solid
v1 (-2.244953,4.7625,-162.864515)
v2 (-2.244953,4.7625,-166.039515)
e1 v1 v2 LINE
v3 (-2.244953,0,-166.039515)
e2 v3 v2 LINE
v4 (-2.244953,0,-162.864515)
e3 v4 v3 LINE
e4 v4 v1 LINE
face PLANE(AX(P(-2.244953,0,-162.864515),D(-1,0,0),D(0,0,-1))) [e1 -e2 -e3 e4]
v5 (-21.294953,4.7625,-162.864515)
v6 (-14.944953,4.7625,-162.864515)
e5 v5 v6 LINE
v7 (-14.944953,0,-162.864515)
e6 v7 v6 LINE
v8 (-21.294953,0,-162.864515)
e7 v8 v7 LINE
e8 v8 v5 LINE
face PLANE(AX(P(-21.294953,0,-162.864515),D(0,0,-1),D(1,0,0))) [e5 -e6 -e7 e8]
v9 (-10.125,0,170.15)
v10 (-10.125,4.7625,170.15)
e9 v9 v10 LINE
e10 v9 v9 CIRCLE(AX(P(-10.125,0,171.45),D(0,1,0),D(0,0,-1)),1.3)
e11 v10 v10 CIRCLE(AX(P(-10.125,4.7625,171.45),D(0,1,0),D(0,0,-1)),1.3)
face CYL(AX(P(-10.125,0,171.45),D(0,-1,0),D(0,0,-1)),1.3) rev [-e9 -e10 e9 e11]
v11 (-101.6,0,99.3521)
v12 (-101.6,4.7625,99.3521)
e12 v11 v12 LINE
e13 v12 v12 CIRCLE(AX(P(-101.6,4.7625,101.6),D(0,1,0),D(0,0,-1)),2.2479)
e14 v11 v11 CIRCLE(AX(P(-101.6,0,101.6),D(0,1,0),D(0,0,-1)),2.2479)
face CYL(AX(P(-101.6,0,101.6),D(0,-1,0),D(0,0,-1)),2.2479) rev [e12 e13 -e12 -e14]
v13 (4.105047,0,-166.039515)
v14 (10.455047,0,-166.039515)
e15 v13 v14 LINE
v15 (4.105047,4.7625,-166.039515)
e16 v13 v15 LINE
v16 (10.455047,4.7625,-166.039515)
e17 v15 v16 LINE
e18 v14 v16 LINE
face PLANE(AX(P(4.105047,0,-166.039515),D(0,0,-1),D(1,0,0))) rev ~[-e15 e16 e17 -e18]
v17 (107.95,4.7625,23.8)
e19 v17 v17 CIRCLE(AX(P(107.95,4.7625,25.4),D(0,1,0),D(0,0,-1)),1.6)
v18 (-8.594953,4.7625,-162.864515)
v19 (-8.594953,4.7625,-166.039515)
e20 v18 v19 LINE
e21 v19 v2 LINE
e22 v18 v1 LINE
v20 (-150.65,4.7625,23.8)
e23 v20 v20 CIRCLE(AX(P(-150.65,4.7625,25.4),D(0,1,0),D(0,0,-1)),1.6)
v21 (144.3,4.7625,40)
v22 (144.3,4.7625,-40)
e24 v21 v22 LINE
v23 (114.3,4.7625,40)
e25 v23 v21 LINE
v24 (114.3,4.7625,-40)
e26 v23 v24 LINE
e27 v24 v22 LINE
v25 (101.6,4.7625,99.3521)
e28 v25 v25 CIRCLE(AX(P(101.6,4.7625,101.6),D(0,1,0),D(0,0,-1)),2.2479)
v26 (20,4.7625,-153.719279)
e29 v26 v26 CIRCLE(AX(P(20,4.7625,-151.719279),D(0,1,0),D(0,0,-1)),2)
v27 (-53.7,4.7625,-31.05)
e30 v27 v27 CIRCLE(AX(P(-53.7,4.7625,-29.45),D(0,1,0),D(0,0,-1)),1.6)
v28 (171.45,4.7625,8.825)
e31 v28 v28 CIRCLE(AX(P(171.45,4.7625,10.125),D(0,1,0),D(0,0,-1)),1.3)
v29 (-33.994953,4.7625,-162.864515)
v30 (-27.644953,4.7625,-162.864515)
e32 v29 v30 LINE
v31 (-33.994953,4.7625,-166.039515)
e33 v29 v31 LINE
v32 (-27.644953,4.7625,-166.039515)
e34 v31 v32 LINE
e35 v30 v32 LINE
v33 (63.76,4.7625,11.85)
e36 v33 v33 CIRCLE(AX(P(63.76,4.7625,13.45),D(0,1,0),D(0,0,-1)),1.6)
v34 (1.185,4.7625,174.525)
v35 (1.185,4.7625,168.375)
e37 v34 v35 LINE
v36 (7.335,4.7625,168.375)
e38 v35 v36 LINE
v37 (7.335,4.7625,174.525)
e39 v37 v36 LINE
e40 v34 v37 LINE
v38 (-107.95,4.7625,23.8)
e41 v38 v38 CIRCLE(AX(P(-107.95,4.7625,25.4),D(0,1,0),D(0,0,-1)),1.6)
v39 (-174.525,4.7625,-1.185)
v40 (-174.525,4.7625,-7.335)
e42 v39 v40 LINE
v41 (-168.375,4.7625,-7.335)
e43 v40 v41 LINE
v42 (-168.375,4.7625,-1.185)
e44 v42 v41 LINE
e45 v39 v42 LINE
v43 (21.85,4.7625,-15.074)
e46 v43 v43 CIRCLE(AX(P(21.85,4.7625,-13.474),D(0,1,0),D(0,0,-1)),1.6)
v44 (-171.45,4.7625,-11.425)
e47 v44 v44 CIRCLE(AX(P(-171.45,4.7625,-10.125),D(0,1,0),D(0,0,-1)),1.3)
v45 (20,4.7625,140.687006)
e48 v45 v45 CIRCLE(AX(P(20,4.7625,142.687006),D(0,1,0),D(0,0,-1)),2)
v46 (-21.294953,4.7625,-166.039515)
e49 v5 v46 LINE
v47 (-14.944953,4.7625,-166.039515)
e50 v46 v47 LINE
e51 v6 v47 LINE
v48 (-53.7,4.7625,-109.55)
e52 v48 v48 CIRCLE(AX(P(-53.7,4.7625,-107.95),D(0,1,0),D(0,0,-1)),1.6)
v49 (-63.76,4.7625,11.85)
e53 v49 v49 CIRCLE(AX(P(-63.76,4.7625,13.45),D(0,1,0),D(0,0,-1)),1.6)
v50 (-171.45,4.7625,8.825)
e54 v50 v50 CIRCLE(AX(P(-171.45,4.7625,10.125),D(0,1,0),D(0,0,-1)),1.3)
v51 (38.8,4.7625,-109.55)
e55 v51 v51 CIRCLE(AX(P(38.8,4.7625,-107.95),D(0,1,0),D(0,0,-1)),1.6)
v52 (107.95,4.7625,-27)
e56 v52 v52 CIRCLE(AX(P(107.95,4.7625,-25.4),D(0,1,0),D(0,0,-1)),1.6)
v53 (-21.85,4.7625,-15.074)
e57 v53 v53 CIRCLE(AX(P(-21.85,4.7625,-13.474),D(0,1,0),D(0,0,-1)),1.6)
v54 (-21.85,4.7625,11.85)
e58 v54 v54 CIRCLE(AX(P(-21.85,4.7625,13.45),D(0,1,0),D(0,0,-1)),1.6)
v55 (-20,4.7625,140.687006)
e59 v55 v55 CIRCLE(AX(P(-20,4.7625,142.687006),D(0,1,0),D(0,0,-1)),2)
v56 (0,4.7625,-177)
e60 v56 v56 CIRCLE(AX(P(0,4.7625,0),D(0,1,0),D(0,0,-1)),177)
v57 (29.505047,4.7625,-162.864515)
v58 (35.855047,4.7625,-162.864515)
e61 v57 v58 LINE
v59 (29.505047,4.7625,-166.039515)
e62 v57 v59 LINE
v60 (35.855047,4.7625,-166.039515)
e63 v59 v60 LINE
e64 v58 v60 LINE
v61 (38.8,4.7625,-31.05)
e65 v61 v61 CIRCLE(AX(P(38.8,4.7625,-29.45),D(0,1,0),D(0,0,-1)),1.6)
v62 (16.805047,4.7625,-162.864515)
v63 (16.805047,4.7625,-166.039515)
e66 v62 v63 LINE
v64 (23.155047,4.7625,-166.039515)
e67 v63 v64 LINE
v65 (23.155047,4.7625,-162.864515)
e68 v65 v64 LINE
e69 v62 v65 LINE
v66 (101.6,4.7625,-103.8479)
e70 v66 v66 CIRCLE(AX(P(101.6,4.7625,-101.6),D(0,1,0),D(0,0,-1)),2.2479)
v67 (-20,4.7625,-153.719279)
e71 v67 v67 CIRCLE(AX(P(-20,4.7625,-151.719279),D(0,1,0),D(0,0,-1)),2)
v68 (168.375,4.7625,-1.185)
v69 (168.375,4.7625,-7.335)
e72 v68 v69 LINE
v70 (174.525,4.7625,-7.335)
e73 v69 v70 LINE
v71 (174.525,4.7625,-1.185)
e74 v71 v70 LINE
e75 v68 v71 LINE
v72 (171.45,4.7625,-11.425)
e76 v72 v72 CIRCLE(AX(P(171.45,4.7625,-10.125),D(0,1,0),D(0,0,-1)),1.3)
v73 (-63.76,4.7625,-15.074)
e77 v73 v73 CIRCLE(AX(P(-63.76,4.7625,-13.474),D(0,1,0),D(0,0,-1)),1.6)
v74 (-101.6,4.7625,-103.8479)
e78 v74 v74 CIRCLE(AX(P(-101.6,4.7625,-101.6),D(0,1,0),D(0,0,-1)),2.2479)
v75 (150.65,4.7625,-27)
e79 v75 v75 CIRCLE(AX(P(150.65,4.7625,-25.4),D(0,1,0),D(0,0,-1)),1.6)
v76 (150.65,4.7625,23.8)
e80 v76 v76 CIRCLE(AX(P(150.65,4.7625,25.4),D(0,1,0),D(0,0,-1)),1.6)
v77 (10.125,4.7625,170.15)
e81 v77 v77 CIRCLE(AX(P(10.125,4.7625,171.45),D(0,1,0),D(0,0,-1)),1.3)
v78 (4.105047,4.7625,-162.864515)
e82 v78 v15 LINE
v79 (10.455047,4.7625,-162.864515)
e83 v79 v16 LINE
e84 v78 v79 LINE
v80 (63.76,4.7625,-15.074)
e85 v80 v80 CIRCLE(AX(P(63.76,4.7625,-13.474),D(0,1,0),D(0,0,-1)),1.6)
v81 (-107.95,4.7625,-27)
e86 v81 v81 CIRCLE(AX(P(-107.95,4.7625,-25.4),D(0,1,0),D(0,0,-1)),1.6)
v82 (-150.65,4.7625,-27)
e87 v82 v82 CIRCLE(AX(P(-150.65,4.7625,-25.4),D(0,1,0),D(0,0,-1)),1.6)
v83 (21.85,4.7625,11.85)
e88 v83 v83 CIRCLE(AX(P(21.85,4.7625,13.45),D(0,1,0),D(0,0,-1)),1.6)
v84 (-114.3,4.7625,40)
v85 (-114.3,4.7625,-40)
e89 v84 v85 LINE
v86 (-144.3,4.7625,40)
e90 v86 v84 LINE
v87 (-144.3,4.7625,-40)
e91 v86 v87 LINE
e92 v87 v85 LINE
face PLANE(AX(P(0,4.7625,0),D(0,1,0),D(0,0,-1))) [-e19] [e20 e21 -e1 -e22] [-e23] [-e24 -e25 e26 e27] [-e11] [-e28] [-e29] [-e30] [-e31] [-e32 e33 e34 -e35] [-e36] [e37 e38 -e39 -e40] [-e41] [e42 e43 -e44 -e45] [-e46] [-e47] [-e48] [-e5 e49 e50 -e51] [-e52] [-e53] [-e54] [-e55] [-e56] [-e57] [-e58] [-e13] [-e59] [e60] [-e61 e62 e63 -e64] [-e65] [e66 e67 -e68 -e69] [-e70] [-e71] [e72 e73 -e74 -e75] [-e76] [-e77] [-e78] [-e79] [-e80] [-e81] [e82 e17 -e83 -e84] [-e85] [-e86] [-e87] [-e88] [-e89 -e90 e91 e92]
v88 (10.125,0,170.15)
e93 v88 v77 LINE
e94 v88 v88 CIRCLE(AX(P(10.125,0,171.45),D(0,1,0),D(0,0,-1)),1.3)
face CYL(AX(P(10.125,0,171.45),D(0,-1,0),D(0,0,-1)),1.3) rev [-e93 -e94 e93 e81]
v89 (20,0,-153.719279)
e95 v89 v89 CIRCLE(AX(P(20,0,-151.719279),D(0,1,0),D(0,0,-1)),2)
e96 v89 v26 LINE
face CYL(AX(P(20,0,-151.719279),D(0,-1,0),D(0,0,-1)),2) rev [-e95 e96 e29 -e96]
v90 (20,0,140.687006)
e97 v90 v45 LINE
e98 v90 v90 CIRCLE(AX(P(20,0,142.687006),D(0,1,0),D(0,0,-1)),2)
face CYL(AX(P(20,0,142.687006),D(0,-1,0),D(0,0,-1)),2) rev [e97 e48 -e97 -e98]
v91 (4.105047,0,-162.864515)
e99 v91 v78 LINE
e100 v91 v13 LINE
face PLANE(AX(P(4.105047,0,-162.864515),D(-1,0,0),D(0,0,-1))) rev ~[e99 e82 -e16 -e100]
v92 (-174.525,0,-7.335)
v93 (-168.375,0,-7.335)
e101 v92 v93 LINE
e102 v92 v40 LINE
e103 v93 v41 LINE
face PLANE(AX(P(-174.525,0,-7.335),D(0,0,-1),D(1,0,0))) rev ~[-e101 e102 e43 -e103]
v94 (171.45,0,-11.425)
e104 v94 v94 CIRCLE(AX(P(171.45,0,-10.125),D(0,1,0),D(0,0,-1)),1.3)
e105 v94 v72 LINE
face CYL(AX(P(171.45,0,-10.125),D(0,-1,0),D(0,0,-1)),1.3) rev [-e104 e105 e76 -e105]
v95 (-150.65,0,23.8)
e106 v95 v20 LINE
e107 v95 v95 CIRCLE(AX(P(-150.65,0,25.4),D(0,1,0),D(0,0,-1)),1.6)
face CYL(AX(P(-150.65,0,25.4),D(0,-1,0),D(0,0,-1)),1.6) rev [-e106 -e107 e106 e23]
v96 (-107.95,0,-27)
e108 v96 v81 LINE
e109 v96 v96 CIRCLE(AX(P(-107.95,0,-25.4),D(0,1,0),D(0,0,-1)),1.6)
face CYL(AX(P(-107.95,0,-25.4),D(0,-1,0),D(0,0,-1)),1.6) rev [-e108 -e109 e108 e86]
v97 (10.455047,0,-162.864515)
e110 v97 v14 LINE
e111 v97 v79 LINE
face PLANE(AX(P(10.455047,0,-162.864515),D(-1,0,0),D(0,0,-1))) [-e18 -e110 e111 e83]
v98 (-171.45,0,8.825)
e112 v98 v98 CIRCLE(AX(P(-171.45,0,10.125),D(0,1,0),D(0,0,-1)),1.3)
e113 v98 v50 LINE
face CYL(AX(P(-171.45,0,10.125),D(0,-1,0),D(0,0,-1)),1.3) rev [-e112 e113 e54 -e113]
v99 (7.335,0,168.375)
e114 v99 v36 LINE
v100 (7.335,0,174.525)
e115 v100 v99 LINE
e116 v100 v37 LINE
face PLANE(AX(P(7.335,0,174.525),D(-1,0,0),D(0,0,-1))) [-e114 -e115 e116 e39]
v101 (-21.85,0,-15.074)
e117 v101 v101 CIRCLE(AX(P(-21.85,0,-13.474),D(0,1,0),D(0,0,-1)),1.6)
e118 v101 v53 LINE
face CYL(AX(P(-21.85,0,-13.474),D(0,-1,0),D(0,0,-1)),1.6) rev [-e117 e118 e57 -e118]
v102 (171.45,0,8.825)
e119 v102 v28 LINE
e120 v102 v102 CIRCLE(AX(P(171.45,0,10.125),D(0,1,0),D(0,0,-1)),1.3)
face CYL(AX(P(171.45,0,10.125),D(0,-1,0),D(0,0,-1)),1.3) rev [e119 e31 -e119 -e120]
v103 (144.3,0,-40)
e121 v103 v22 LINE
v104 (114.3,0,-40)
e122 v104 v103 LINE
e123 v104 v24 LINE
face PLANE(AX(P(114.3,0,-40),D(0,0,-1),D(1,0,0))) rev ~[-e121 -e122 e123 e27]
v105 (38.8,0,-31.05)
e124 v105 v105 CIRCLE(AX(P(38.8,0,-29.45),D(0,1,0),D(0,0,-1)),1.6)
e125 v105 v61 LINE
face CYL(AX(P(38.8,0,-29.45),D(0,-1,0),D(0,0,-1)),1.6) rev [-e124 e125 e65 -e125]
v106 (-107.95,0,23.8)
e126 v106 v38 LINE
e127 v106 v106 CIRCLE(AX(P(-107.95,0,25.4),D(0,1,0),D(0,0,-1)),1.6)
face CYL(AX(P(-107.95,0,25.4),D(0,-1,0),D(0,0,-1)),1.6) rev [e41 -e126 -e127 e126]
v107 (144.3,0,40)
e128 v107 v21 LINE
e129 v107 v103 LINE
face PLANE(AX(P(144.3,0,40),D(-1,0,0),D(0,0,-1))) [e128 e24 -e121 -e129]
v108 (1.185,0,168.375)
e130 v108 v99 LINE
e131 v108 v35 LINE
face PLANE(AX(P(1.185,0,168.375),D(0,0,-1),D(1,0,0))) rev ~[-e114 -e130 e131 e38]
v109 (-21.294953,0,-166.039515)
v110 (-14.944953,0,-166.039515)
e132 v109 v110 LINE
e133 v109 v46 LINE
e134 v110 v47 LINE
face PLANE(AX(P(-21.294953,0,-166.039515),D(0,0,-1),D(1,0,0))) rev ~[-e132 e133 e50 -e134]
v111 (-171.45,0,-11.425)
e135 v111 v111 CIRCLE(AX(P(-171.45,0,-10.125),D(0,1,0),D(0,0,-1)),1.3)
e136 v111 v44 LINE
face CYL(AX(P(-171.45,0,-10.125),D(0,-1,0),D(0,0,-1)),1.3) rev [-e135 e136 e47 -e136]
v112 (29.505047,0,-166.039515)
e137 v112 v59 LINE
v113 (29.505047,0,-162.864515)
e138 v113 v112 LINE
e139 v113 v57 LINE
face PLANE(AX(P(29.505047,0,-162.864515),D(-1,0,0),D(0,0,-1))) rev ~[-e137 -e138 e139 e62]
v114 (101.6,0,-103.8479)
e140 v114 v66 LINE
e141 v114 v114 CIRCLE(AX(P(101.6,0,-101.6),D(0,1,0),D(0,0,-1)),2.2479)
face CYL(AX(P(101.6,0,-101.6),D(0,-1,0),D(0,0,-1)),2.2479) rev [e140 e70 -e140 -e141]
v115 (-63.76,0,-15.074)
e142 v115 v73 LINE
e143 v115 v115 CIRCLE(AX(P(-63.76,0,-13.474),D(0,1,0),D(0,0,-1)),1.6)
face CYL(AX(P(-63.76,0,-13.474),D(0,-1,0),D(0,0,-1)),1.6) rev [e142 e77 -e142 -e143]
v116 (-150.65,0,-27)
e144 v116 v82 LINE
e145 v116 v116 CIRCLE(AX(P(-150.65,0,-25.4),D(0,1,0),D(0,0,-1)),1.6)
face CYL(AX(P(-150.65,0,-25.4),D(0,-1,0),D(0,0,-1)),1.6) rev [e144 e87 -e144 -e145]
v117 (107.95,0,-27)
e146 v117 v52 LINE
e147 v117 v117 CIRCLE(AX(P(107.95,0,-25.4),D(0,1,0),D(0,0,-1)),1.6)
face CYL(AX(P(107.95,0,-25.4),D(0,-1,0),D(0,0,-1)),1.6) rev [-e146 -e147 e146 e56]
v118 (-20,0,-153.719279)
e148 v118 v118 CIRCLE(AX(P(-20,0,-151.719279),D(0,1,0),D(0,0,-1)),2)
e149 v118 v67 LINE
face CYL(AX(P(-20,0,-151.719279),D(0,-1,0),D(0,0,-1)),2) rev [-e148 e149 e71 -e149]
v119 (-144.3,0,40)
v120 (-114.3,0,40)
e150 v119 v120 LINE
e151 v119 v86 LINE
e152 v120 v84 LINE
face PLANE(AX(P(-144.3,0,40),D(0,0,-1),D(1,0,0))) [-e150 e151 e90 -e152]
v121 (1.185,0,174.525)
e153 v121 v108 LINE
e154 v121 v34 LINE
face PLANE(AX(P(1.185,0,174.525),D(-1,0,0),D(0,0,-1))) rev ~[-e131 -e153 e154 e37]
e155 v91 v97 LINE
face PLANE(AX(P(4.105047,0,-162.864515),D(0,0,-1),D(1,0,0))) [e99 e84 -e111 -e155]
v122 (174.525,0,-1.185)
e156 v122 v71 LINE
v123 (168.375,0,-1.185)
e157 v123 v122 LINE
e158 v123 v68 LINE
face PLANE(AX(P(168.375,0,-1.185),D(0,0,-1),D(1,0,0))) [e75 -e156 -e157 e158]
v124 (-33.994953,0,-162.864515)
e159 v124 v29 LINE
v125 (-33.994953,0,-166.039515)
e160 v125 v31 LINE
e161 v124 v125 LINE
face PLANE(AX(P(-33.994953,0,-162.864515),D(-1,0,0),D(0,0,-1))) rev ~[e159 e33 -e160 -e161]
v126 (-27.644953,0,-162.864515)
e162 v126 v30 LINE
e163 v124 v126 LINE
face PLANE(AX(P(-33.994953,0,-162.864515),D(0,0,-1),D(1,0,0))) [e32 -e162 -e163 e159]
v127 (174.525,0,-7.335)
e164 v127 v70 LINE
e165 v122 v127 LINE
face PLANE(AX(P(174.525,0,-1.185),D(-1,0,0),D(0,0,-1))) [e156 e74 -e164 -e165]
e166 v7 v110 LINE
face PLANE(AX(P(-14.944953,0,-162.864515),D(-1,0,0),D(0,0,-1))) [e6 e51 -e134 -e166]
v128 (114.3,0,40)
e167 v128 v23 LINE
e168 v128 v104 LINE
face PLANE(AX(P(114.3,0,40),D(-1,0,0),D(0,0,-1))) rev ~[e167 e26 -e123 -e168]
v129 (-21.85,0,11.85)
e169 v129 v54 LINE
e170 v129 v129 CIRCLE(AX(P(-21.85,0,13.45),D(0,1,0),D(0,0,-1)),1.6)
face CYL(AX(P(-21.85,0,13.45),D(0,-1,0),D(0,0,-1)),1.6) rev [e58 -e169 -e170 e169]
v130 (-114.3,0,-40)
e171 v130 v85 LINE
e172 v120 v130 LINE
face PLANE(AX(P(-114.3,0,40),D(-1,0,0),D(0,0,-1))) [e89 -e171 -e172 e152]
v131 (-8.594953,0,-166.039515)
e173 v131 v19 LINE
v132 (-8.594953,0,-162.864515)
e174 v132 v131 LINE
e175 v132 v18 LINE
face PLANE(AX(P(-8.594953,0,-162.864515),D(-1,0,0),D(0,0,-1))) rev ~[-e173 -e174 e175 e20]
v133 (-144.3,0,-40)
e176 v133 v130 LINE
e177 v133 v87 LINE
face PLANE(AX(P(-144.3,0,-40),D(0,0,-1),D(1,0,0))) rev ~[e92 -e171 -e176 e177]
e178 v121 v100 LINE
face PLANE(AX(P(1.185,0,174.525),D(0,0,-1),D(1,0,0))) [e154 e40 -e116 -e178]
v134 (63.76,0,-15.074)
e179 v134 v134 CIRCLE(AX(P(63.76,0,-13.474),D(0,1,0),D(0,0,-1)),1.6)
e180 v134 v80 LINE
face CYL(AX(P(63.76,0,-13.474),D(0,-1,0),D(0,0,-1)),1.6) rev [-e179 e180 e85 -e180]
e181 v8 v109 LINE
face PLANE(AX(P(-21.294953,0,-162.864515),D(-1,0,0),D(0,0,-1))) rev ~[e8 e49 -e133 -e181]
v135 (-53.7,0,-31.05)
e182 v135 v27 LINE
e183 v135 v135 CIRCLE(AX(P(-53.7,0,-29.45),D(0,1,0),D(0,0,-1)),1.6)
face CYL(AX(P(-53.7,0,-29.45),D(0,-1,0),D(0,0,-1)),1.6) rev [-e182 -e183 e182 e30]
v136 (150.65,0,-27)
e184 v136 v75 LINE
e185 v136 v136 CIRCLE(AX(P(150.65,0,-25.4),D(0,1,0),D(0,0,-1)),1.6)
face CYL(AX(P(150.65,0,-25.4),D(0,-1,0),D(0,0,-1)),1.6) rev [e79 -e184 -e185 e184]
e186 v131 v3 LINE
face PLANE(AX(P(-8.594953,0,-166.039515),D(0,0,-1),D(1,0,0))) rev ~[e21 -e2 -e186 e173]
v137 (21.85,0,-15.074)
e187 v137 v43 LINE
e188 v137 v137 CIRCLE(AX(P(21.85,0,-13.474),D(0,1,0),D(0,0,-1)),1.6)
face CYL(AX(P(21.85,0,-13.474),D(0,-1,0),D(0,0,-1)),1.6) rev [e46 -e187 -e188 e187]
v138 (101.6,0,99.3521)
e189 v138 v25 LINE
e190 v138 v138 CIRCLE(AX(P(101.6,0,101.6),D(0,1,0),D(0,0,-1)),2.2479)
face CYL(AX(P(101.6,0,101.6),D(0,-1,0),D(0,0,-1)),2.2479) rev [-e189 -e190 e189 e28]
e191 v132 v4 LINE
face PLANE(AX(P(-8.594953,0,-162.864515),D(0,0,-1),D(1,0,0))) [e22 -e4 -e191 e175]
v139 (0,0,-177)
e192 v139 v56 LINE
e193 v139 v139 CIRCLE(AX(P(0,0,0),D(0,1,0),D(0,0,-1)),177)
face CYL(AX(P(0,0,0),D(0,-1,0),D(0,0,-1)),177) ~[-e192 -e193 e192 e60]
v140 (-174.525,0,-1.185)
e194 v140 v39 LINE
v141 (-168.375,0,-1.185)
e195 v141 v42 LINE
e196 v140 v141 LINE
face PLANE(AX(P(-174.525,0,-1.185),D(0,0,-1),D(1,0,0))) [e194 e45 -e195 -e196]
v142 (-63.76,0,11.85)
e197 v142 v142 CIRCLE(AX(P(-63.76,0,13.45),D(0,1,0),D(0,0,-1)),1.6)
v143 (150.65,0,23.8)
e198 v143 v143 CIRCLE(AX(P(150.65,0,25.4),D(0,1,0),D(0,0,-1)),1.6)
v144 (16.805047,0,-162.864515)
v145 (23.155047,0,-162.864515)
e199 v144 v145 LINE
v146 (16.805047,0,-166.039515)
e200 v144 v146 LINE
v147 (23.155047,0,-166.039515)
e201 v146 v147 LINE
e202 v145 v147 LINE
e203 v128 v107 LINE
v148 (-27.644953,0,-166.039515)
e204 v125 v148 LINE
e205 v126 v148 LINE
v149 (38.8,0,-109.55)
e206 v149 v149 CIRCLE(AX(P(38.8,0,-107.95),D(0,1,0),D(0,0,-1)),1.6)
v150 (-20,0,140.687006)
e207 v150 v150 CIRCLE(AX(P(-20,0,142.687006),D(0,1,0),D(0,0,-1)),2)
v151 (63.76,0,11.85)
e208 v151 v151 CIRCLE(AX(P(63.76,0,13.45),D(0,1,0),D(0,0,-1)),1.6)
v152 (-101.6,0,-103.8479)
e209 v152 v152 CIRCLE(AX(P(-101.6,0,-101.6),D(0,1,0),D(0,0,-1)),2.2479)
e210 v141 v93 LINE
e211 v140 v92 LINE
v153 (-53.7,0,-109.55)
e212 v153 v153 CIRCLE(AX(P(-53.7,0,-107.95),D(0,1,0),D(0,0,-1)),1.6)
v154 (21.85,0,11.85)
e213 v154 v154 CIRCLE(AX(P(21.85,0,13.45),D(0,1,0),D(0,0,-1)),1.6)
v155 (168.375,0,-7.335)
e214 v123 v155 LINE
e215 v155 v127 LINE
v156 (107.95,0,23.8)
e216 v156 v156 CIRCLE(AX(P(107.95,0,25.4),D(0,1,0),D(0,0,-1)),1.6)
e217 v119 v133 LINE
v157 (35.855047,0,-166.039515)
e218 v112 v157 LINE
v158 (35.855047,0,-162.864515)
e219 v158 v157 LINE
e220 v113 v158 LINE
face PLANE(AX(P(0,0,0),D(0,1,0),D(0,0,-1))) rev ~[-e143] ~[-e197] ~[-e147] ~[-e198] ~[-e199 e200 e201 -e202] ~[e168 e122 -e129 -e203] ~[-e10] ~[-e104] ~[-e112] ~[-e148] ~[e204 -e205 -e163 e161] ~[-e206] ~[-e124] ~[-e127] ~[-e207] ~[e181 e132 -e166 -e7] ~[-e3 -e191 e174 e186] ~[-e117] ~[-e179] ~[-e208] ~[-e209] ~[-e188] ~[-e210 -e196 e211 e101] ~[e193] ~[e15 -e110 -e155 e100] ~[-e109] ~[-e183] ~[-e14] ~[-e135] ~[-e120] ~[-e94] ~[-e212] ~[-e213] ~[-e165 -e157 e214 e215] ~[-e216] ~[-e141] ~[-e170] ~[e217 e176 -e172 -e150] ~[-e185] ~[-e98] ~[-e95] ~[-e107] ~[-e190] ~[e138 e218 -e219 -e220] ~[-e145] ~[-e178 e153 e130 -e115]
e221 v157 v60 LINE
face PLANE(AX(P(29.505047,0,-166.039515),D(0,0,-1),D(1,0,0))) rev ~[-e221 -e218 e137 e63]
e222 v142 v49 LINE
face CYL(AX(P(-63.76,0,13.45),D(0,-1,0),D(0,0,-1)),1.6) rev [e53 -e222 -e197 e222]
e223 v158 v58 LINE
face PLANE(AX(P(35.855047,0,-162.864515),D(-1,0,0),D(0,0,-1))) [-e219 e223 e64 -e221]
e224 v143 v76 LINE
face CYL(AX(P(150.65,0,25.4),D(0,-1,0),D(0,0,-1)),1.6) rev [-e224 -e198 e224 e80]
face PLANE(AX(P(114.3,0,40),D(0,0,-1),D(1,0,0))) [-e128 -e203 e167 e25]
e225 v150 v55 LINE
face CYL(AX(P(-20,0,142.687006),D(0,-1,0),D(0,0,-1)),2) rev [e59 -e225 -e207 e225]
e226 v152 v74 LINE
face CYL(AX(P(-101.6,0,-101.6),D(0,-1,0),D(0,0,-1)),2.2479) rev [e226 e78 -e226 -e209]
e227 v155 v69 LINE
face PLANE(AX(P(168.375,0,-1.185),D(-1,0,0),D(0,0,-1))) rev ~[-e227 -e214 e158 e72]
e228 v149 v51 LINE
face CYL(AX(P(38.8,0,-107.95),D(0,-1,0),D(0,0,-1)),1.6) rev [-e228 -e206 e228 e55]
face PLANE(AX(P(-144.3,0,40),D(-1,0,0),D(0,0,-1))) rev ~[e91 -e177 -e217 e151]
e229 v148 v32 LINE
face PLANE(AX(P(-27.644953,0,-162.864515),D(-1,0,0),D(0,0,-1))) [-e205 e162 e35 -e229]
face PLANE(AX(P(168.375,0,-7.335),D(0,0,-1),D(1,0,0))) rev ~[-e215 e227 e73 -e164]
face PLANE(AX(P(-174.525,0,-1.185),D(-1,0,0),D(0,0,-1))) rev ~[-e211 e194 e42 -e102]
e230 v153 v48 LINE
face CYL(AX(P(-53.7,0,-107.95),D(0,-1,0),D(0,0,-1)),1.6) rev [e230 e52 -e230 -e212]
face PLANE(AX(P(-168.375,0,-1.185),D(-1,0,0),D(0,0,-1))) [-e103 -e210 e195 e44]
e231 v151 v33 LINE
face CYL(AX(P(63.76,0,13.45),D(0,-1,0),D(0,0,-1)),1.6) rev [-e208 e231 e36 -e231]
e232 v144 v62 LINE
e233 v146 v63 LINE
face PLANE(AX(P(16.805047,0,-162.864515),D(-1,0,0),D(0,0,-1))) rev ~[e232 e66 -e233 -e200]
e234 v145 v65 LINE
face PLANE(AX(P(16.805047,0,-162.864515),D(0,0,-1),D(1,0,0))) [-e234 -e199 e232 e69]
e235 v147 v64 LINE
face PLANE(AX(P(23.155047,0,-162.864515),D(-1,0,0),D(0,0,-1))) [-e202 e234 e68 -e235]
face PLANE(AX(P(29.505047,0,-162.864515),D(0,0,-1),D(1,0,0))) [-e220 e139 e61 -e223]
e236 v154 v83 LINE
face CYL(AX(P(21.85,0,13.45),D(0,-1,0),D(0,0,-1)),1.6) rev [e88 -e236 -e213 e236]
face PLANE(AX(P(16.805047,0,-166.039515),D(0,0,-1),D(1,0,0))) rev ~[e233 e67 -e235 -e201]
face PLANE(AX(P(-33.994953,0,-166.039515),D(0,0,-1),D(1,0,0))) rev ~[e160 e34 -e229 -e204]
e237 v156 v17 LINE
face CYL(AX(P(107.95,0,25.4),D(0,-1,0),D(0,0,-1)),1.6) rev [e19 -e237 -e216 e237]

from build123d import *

# Parameters (mm, degrees)
SKETCH1_R           = 177
SKETCH1_R_2         = 1.6
SKETCH1_R_3         = 2.2479
SKETCH1_R_4         = 2.000000064
SKETCH1_R_5         = 1.3
SKETCH1_R_6         = 1.29999994
SKETCH1_W           = 6.15
SKETCH1_H           = 6.15
SKETCH1_W_2         = 30
SKETCH1_H_2         = 80
SKETCH1_W_3         = 6.35
SKETCH1_H_3         = 3.175
BOSS_EXTRUDE1_DEPTH = 4.7625


with BuildPart() as part:
    # Sketch1 → Boss-Extrude1 (new body)
    with BuildSketch(Plane(origin=(0, 0, 0), x_dir=(1, 0, 0), z_dir=(0, 1, 0))):
        with Locations(Location((0, 0, 0), (0, 0, 90))):
            Circle(SKETCH1_R)
        with Locations(Location((-150.65, 25.4, 0), (0, 0, 90))):
            Circle(SKETCH1_R_2, mode=Mode.SUBTRACT)
        with Locations(Location((-150.65, -25.4, 0), (0, 0, 90))):
            Circle(SKETCH1_R_2, mode=Mode.SUBTRACT)
        with Locations(Location((150.65, 25.4, 0), (0, 0, 90))):
            Circle(SKETCH1_R_2, mode=Mode.SUBTRACT)
        with Locations(Location((150.65, -25.4, 0), (0, 0, 90))):
            Circle(SKETCH1_R_2, mode=Mode.SUBTRACT)
        with Locations(Location((-107.95, 25.4, 0), (0, 0, 90))):
            Circle(SKETCH1_R_2, mode=Mode.SUBTRACT)
        with Locations(Location((-107.95, -25.4, 0), (0, 0, 90))):
            Circle(SKETCH1_R_2, mode=Mode.SUBTRACT)
        with Locations(Location((107.95, 25.4, 0), (0, 0, 90))):
            Circle(SKETCH1_R_2, mode=Mode.SUBTRACT)
        with Locations(Location((107.95, -25.4, 0), (0, 0, 90))):
            Circle(SKETCH1_R_2, mode=Mode.SUBTRACT)
        with Locations(Location((-53.7, 107.95, 0), (0, 0, 90))):
            Circle(SKETCH1_R_2, mode=Mode.SUBTRACT)
        with Locations(Location((38.8, 107.95, 0), (0, 0, 90))):
            Circle(SKETCH1_R_2, mode=Mode.SUBTRACT)
        with Locations(Location((-53.7, 29.45, 0), (0, 0, 90))):
            Circle(SKETCH1_R_2, mode=Mode.SUBTRACT)
        with Locations(Location((38.8, 29.45, 0), (0, 0, 90))):
            Circle(SKETCH1_R_2, mode=Mode.SUBTRACT)
        with Locations(Location((-101.6, -101.6, 0), (0, 0, 90))):
            Circle(SKETCH1_R_3, mode=Mode.SUBTRACT)
        with Locations(Location((101.6, -101.6, 0), (0, 0, 90))):
            Circle(SKETCH1_R_3, mode=Mode.SUBTRACT)
        with Locations(Location((-101.6, 101.6, 0), (0, 0, 90))):
            Circle(SKETCH1_R_3, mode=Mode.SUBTRACT)
        with Locations(Location((101.6, 101.6, 0), (0, 0, 90))):
            Circle(SKETCH1_R_3, mode=Mode.SUBTRACT)
        with Locations(Location((-20, -142.687006289, 0), (0, 0, 90))):
            Circle(SKETCH1_R_4, mode=Mode.SUBTRACT)
        with Locations(Location((20, -142.687006289, 0), (0, 0, 90))):
            Circle(SKETCH1_R_4, mode=Mode.SUBTRACT)
        with Locations(Location((-20, 151.719279026, 0), (0, 0, 90))):
            Circle(SKETCH1_R_4, mode=Mode.SUBTRACT)
        with Locations(Location((20, 151.719279026, 0), (0, 0, 90))):
            Circle(SKETCH1_R_4, mode=Mode.SUBTRACT)
        with Locations(Location((-10.125, -171.45, 0), (0, 0, 90))):
            Circle(SKETCH1_R_5, mode=Mode.SUBTRACT)
        with Locations(Location((10.125, -171.45, 0), (0, 0, 90))):
            Circle(SKETCH1_R_6, mode=Mode.SUBTRACT)
        with Locations(Location((171.45, -10.125, 0), (0, 0, 90))):
            Circle(SKETCH1_R_5, mode=Mode.SUBTRACT)
        with Locations(Location((171.45, 10.125, 0), (0, 0, 90))):
            Circle(SKETCH1_R_5, mode=Mode.SUBTRACT)
        with Locations(Location((-171.45, -10.125, 0), (0, 0, 90))):
            Circle(SKETCH1_R_5, mode=Mode.SUBTRACT)
        with Locations(Location((-171.45, 10.125, 0), (0, 0, 90))):
            Circle(SKETCH1_R_5, mode=Mode.SUBTRACT)
        with Locations(Location((-63.76, 13.473999986, 0), (0, 0, 90))):
            Circle(SKETCH1_R_2, mode=Mode.SUBTRACT)
        with Locations(Location((-63.76, -13.450000014, 0), (0, 0, 90))):
            Circle(SKETCH1_R_2, mode=Mode.SUBTRACT)
        with Locations(Location((-21.85, 13.473999986, 0), (0, 0, 90))):
            Circle(SKETCH1_R_2, mode=Mode.SUBTRACT)
        with Locations(Location((-21.85, -13.450000014, 0), (0, 0, 90))):
            Circle(SKETCH1_R_2, mode=Mode.SUBTRACT)
        with Locations(Location((63.76, -13.450000014, 0), (0, 0, 90))):
            Circle(SKETCH1_R_2, mode=Mode.SUBTRACT)
        with Locations(Location((21.85, -13.450000014, 0), (0, 0, 90))):
            Circle(SKETCH1_R_2, mode=Mode.SUBTRACT)
        with Locations(Location((21.85, 13.473999986, 0), (0, 0, 90))):
            Circle(SKETCH1_R_2, mode=Mode.SUBTRACT)
        with Locations(Location((63.76, 13.473999986, 0), (0, 0, 90))):
            Circle(SKETCH1_R_2, mode=Mode.SUBTRACT)
        with Locations((171.45, 4.26)):
            Rectangle(SKETCH1_W, SKETCH1_H, mode=Mode.SUBTRACT)
        with Locations((-129.3, 0)):
            Rectangle(SKETCH1_W_2, SKETCH1_H_2, mode=Mode.SUBTRACT)
        with Locations((129.3, 0)):
            Rectangle(SKETCH1_W_2, SKETCH1_H_2, mode=Mode.SUBTRACT)
        with Locations((4.26, -171.45)):
            Rectangle(SKETCH1_W, SKETCH1_H, mode=Mode.SUBTRACT)
        with Locations((-171.45, 4.26)):
            Rectangle(SKETCH1_W, SKETCH1_H, mode=Mode.SUBTRACT)
        with Locations((-18.119952608, 164.452014647)):
            Rectangle(SKETCH1_W_3, SKETCH1_H_3, mode=Mode.SUBTRACT)
        with Locations((-30.819952608, 164.452014647)):
            Rectangle(SKETCH1_W_3, SKETCH1_H_3, mode=Mode.SUBTRACT)
        with Locations((-5.419952608, 164.452014647)):
            Rectangle(SKETCH1_W_3, SKETCH1_H_3, mode=Mode.SUBTRACT)
        with Locations((7.280047392, 164.452014647)):
            Rectangle(SKETCH1_W_3, SKETCH1_H_3, mode=Mode.SUBTRACT)
        with Locations((19.980047392, 164.452014647)):
            Rectangle(SKETCH1_W_3, SKETCH1_H_3, mode=Mode.SUBTRACT)
        with Locations((32.680047392, 164.452014647)):
            Rectangle(SKETCH1_W_3, SKETCH1_H_3, mode=Mode.SUBTRACT)
    extrude(amount=BOSS_EXTRUDE1_DEPTH)


solid = part.part
